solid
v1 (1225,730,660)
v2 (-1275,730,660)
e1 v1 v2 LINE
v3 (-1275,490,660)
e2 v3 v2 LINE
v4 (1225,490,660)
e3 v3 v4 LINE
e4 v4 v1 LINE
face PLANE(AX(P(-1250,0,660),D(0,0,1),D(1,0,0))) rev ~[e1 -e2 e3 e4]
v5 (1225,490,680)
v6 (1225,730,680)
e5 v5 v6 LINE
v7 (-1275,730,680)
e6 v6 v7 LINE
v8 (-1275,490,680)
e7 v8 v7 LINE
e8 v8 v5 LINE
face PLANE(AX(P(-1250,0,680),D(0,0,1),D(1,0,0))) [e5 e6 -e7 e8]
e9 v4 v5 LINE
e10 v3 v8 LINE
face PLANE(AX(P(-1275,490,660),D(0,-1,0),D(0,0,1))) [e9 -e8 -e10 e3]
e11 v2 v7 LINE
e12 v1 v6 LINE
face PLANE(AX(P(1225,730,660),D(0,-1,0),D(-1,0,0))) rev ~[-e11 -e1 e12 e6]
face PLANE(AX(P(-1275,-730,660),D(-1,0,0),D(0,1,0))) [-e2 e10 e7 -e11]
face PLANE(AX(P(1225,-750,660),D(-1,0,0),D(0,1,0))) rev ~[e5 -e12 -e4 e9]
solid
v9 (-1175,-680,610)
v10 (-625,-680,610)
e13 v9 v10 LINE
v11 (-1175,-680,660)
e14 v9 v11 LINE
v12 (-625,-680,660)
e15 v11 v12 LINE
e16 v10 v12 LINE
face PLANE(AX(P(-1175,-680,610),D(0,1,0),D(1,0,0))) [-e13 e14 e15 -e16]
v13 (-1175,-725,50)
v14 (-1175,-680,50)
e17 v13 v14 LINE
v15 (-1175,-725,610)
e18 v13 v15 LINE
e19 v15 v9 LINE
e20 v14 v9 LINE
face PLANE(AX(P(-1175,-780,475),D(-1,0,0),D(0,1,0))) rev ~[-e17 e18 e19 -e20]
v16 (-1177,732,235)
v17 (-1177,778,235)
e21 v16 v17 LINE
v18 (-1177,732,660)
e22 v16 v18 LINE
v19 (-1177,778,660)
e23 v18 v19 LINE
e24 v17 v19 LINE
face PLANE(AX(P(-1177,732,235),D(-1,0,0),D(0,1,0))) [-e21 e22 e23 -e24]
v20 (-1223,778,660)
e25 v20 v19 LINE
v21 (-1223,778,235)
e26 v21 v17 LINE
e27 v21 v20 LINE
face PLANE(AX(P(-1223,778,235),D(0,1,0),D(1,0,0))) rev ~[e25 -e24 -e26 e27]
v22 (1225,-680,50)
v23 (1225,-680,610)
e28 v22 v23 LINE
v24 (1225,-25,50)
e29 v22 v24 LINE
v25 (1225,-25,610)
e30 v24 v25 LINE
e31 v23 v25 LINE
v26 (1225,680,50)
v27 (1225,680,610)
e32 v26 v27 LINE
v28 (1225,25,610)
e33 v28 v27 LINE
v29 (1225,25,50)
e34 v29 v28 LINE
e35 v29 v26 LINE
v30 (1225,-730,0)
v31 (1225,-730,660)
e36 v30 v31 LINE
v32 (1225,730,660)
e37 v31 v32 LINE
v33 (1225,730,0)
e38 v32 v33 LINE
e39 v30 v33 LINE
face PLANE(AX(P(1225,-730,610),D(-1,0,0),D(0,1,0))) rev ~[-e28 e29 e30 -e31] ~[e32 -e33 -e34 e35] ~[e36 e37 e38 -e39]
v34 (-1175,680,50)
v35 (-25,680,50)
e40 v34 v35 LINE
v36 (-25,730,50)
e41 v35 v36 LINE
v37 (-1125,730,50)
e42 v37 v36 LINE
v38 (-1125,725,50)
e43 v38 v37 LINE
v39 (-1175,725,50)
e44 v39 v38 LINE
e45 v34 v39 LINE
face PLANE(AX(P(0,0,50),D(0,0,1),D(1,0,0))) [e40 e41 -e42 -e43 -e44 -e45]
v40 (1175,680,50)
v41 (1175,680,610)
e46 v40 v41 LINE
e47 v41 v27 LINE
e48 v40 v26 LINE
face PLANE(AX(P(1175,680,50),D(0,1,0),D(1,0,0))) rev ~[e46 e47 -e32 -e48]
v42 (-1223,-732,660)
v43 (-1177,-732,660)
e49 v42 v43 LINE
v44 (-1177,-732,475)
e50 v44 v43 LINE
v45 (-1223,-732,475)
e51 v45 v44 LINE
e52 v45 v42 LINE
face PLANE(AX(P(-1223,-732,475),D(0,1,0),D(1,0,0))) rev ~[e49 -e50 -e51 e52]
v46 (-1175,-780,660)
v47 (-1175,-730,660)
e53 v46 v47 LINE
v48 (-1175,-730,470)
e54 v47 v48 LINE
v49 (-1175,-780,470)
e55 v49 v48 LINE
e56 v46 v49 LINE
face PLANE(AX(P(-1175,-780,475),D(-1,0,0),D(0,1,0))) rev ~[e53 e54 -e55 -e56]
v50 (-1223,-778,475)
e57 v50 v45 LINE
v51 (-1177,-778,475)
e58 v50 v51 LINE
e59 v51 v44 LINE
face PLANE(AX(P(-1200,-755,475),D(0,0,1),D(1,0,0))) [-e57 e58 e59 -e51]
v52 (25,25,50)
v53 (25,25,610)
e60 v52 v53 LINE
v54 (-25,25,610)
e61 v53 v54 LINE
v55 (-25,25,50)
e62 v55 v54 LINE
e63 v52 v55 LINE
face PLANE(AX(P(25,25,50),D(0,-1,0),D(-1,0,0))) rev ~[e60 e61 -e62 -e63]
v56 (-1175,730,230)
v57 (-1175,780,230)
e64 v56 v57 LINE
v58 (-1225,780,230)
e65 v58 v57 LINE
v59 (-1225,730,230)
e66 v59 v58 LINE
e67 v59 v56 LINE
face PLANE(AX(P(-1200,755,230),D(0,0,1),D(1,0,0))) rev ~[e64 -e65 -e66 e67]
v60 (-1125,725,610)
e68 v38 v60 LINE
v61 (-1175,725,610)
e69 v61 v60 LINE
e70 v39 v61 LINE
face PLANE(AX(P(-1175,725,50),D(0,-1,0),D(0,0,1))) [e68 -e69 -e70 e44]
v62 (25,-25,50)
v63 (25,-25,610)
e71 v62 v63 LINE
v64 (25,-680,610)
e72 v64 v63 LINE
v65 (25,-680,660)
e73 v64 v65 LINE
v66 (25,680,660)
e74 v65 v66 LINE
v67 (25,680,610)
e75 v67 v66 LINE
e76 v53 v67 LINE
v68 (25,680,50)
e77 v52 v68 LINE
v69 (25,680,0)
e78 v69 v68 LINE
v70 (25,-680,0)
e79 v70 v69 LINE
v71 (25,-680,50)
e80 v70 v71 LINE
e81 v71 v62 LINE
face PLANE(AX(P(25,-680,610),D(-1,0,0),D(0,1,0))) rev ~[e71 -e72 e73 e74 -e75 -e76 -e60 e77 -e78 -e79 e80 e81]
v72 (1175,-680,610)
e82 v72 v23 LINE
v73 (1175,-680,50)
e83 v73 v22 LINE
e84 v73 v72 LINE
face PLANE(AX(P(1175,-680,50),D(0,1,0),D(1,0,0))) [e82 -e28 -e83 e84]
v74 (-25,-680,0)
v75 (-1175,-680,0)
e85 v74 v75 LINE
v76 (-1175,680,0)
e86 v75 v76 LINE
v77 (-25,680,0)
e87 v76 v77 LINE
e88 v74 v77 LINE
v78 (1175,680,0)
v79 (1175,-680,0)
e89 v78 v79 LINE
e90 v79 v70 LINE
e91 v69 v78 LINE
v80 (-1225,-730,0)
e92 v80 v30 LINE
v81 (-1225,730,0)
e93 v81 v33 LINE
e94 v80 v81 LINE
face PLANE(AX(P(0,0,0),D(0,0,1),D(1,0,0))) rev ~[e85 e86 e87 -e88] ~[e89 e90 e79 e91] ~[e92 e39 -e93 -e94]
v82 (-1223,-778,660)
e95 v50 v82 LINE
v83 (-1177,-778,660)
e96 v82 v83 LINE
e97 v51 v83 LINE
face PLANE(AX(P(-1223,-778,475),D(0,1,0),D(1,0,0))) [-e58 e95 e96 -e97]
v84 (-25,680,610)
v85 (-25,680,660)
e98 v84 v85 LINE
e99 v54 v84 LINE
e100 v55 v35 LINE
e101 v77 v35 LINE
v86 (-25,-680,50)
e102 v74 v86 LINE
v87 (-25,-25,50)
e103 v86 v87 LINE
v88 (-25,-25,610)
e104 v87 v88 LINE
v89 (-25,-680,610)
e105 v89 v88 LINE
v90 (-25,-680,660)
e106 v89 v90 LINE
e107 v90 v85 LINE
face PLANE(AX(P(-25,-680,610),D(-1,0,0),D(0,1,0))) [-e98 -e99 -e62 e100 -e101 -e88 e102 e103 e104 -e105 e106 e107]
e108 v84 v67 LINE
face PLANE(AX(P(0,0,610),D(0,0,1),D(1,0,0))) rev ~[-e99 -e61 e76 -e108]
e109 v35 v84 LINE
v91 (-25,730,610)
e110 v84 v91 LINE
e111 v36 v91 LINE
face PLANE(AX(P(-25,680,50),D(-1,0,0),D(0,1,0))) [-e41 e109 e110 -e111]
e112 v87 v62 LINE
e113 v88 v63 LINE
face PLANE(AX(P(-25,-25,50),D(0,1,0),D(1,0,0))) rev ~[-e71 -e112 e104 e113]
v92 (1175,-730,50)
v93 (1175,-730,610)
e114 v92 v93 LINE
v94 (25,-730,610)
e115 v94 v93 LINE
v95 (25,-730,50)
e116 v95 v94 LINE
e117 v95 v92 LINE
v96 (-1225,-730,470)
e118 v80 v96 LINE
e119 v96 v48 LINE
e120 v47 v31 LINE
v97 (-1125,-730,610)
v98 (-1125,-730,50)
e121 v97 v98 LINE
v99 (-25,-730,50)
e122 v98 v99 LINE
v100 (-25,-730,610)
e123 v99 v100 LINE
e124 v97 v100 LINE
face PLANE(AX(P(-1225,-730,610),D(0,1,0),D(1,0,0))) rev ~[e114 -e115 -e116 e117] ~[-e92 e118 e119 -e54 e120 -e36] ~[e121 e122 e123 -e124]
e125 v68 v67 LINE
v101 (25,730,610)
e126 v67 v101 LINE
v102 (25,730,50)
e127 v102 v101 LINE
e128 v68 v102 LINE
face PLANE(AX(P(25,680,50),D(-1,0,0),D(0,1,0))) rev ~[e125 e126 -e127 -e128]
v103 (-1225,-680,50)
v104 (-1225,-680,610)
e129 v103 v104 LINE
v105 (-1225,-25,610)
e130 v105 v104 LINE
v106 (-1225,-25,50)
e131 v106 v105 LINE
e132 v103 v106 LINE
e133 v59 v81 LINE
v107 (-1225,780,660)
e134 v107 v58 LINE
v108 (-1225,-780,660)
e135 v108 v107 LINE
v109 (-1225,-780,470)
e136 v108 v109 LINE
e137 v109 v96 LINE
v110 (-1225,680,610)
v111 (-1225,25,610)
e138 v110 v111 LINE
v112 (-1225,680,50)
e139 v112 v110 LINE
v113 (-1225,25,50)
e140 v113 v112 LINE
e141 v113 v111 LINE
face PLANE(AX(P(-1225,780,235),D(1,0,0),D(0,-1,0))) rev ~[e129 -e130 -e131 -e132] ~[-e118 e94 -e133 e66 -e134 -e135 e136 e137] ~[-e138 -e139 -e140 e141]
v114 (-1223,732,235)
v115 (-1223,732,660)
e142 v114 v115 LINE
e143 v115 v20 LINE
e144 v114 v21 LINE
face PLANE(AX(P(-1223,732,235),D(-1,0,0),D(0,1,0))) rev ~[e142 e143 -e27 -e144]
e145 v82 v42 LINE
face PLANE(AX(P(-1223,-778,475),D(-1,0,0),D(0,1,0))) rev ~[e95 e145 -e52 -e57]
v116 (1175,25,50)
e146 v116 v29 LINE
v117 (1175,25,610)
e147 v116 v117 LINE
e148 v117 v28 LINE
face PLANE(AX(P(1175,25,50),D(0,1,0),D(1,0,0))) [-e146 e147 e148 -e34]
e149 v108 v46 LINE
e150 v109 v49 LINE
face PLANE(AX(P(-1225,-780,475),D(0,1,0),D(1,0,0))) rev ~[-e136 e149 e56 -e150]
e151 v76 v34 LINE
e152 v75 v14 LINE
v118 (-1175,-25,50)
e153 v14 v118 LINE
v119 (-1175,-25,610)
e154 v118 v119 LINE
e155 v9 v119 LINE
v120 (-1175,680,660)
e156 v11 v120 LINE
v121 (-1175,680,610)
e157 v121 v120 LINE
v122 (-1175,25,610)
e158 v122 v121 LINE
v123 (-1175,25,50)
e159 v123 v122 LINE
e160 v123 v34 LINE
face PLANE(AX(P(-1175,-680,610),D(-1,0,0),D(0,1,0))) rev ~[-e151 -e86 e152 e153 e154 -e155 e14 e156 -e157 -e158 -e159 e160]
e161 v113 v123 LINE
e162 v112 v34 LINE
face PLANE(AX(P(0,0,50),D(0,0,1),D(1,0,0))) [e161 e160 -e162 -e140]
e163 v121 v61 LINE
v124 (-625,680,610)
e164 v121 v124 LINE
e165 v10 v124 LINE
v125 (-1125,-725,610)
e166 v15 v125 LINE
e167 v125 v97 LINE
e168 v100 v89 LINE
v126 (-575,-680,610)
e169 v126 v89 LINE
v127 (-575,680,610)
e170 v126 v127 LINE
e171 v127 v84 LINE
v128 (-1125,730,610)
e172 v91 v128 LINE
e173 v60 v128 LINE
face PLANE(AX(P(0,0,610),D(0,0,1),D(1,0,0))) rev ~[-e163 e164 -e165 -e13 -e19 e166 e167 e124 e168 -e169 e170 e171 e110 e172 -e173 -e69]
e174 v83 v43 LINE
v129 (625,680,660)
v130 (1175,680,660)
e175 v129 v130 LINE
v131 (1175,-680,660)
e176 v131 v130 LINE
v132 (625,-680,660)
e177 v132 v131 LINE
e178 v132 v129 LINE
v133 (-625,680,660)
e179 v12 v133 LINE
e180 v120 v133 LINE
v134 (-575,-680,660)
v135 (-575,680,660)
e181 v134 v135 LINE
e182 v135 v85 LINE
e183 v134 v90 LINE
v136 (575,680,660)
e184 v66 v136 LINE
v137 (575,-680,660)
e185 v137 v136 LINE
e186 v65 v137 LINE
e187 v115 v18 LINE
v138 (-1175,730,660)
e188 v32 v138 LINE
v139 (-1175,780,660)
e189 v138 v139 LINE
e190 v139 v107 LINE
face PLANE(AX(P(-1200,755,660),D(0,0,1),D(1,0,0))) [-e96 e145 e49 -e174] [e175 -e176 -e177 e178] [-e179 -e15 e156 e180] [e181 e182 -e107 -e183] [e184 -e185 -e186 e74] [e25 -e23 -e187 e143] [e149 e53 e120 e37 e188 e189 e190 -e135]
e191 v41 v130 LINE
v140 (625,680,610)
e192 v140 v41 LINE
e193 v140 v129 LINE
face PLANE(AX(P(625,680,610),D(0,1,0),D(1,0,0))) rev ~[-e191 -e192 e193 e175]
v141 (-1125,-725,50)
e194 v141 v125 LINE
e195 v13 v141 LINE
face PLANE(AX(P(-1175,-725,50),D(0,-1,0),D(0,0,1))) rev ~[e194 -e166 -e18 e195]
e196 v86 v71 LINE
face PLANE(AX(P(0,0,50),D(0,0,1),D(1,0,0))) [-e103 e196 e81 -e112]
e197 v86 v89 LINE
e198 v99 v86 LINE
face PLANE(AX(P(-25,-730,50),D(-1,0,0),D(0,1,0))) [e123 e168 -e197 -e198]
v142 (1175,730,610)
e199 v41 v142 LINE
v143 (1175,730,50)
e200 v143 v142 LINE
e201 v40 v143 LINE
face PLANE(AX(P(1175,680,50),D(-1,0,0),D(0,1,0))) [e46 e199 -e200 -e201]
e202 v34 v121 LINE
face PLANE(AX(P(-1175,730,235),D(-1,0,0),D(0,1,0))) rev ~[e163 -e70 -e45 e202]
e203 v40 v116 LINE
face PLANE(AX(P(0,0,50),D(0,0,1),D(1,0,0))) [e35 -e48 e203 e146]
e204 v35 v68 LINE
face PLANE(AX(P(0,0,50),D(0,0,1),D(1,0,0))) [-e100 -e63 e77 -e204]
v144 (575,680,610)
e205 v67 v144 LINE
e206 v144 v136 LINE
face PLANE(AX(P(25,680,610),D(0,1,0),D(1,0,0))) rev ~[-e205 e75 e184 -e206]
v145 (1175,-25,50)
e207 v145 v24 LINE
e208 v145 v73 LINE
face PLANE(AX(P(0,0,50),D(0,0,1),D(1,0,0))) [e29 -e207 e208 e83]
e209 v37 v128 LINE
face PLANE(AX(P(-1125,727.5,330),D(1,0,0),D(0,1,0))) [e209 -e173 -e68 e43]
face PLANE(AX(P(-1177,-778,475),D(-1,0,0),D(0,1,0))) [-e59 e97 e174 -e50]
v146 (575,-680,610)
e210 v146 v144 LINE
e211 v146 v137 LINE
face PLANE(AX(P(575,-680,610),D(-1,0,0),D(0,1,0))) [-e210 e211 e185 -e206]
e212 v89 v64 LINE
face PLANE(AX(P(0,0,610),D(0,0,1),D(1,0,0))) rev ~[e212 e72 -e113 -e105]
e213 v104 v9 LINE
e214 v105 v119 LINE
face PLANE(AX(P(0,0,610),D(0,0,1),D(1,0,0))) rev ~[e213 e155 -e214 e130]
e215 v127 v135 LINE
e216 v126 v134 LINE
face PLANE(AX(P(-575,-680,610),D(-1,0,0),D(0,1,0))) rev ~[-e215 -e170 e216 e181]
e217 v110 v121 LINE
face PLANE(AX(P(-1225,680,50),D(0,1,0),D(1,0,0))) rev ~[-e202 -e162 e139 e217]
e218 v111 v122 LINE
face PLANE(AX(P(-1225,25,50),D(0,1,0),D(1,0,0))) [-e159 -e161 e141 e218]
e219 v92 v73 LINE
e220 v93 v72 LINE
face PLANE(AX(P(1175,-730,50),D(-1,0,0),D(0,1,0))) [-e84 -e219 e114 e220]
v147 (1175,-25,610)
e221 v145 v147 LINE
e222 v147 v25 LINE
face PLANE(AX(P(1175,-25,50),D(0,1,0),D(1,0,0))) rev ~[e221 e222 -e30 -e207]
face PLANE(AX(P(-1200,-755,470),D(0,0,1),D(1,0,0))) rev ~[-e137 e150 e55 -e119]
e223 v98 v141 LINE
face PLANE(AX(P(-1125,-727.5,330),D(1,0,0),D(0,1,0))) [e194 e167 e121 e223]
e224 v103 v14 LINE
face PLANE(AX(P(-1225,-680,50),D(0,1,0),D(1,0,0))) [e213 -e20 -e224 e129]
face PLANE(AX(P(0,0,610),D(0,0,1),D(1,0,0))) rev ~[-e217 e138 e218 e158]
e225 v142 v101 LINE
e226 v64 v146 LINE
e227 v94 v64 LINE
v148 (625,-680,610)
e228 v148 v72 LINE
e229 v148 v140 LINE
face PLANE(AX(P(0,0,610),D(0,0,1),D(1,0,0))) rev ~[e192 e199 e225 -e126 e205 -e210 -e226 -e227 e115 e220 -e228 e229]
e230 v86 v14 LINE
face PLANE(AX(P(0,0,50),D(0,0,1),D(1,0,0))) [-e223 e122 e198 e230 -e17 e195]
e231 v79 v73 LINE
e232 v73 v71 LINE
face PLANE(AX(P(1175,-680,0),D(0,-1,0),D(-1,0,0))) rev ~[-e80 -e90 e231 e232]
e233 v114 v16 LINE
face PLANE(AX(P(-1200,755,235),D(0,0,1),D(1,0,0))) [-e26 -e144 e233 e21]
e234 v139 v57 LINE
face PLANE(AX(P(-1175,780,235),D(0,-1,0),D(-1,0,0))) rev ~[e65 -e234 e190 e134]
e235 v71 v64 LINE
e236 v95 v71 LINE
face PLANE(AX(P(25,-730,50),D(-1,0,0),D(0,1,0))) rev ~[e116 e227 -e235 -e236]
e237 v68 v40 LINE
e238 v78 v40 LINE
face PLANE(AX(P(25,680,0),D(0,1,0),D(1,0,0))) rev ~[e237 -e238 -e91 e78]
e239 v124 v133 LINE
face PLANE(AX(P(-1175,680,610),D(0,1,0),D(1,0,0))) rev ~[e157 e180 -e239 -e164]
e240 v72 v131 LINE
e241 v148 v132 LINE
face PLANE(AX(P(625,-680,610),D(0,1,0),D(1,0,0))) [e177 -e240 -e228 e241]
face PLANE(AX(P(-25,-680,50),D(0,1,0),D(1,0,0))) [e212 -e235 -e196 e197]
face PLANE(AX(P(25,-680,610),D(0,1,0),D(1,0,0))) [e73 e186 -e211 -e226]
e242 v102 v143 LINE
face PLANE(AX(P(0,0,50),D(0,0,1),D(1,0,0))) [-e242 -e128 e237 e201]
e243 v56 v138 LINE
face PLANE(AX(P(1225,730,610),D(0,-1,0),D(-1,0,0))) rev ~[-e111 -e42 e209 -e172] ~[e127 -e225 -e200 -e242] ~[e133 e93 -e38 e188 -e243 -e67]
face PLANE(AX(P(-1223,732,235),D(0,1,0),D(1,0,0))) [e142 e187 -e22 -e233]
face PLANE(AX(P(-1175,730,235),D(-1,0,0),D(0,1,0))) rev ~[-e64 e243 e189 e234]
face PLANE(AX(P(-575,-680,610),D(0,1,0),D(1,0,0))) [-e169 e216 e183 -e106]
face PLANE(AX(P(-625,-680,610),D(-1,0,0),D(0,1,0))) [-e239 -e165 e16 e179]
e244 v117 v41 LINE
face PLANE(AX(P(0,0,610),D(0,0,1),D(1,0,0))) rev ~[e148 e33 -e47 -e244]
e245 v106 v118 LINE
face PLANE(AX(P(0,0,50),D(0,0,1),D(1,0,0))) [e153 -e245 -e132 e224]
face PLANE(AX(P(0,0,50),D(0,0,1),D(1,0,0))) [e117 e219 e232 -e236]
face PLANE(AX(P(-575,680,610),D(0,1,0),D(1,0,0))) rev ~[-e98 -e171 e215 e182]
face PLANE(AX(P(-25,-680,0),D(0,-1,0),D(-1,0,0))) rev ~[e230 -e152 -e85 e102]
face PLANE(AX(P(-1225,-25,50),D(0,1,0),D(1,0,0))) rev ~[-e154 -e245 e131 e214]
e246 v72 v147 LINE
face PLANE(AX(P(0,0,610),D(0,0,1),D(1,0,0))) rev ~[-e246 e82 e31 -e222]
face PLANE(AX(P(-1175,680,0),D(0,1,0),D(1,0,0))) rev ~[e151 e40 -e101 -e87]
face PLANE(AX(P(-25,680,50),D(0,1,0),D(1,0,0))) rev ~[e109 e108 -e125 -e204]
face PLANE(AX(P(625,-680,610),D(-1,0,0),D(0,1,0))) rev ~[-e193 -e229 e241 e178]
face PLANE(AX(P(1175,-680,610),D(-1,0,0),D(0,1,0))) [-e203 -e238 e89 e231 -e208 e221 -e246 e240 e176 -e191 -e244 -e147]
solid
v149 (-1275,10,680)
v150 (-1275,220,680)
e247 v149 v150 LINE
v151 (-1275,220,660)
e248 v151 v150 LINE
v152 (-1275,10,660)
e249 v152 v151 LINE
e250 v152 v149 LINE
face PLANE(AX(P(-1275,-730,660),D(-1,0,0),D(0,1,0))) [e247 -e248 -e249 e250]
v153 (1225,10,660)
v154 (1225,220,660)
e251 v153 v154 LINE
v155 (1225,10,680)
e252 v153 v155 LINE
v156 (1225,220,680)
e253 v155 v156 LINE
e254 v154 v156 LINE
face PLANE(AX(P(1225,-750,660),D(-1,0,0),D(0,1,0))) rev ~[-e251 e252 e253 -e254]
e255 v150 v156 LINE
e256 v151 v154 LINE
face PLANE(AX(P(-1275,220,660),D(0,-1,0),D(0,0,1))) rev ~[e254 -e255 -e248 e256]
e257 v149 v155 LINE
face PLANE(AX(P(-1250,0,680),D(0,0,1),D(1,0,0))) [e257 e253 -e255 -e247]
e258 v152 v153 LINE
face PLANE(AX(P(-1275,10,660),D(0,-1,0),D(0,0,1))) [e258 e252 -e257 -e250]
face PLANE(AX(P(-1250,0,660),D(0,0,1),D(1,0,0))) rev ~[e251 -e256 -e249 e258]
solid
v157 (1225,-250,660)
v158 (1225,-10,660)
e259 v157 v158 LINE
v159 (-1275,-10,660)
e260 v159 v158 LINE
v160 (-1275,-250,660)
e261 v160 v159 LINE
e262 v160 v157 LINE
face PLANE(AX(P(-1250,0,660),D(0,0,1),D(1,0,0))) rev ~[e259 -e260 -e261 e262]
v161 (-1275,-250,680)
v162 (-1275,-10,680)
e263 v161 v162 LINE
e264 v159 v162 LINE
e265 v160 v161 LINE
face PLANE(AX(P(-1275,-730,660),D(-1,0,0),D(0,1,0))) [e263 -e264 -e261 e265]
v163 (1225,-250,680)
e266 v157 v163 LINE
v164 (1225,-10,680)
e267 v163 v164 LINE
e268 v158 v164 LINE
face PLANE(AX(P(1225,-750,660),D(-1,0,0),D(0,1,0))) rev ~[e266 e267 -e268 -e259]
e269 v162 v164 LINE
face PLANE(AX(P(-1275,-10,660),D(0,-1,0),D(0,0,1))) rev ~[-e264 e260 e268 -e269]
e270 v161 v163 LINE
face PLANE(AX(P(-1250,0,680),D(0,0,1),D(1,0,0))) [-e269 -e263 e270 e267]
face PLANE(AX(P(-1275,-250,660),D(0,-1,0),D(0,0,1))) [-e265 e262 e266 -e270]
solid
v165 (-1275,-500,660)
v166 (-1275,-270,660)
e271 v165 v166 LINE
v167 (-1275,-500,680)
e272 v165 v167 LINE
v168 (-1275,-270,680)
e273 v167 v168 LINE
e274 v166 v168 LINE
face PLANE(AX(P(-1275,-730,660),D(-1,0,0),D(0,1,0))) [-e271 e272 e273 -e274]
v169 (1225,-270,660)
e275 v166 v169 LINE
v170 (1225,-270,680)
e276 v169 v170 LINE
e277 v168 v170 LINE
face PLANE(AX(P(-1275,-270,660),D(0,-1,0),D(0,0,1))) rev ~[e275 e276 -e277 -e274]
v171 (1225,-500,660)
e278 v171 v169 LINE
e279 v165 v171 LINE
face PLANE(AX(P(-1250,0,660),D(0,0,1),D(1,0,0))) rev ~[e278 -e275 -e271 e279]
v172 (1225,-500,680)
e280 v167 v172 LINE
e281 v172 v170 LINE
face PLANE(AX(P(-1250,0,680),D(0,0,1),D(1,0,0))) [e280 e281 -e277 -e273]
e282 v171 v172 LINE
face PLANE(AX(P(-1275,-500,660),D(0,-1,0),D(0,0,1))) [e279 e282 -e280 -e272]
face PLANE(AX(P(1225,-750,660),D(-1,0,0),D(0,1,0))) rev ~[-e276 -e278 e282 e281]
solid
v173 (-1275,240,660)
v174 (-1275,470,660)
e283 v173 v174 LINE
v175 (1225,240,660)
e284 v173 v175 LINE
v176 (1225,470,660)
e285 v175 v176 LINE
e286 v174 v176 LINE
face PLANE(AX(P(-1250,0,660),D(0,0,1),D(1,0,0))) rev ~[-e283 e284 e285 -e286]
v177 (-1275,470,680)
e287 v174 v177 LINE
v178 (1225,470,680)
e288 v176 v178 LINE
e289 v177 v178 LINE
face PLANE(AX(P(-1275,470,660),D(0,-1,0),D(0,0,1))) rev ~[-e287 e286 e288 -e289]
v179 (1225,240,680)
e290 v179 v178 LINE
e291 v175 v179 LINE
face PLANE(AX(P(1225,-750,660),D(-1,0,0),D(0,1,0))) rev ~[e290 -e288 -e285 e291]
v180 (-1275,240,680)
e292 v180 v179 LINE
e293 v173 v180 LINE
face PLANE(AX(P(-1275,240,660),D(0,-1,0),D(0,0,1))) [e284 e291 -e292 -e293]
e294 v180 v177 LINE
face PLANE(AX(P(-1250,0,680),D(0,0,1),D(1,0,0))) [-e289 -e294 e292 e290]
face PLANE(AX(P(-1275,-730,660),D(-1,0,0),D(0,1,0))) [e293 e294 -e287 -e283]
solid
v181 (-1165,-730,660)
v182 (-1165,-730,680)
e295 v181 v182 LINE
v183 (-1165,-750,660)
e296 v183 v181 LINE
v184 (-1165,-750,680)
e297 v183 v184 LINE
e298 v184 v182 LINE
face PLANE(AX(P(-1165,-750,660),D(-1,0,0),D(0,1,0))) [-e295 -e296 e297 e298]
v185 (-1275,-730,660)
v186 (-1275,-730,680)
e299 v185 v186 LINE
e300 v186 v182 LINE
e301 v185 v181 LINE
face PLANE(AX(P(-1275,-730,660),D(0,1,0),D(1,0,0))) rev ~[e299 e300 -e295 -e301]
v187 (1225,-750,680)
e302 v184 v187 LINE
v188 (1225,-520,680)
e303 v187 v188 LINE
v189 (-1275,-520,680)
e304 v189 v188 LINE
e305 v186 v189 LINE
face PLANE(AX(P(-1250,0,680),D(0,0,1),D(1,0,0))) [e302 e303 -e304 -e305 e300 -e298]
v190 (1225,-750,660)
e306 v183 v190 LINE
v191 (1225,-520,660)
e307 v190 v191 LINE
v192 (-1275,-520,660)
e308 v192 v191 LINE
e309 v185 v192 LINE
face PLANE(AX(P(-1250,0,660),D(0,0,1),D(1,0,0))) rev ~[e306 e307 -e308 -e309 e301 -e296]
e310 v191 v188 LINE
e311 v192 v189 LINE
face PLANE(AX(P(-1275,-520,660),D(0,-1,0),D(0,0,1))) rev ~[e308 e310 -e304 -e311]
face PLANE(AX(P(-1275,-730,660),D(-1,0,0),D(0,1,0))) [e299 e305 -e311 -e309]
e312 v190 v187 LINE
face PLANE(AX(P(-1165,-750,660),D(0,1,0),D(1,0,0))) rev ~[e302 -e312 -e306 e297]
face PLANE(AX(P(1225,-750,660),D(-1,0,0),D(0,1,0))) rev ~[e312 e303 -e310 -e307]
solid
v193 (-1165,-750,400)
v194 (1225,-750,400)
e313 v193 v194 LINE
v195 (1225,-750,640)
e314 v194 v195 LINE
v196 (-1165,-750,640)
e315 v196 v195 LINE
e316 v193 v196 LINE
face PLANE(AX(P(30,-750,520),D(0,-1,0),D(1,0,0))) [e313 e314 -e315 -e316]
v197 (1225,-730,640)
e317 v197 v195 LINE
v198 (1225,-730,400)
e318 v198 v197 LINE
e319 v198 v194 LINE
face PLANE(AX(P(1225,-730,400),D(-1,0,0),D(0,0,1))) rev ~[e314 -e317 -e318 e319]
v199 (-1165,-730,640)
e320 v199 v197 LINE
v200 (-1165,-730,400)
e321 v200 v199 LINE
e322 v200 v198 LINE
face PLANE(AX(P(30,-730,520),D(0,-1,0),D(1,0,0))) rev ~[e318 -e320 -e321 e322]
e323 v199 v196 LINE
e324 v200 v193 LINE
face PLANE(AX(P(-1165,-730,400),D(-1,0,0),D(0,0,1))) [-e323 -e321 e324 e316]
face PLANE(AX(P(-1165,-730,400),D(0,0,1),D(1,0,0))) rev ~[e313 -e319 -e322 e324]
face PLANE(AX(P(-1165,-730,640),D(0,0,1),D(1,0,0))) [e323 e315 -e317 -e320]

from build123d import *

# Parameters (mm, degrees)
F0_W      = 2450
F0_H      = 1460
F0_W_2    = 50
F0_H_2    = 1360
F1_DEPTH  = 50
F2_W      = 50
F2_H      = 50
F2_H_2    = 25
F3_DEPTH  = 560
F4_W      = 550
F4_H      = 1360
F5_DEPTH  = 50
F7_W      = 50
F7_H      = 50
F8_DEPTH  = 5
F9_W      = 46
F9_H      = 46
F10_DEPTH = 185
F12_W     = 50
F12_H     = 50
F13_DEPTH = 5
F14_W     = 46
F14_H     = 46
F15_DEPTH = 425
F16_W     = 5
F16_H     = 560
F17_DEPTH = 50
F18_W     = 2390
F18_H     = 240
F19_DEPTH = 20
F20_W     = 50
F20_H     = 1460
F20_W_2   = 550
F20_H_2   = 1360
F20_W_3   = 2390
F20_H_3   = 20
F21_DEPTH = 20
F23_W     = 20
F23_H     = 20
F24_DEPTH = 2500


with BuildPart() as f1:
    # F0 (on Top) → F1 (new body)
    with BuildSketch(Plane.XY):
        Rectangle(F0_W, F0_H)
        Polygon((-1175, -680), (-1175, 680), (-25, 680), (25, 680), (1175, 680), (1175, -680), (25, -680), (-25, -680), align=None, mode=Mode.SUBTRACT)
        Rectangle(F0_W_2, F0_H_2)
    extrude(amount=F1_DEPTH)

    # F2 (on face) → F3 (join)
    with BuildSketch(Plane.XY.offset(50)):
        with Locations((-1200, 705)):
            Rectangle(F2_W, F2_H)
        with Locations((0, 705)):
            Rectangle(F2_W, F2_H)
        with Locations((1200, 705)):
            Rectangle(F2_W, F2_H)
        with Locations((1200, -705)):
            Rectangle(F2_W, F2_H)
        with Locations((0, -705)):
            Rectangle(F2_W, F2_H)
        with Locations((-1200, -705)):
            Rectangle(F2_W, F2_H)
        with Locations((-1200, -12.5)):
            Rectangle(F2_W, F2_H_2)
        with Locations((-1200, 12.5)):
            Rectangle(F2_W, F2_H_2)
        Polygon((-25, -25), (25, -25), (25, 25), (-25, 25), (-25, 0), align=None)
        with Locations((1200, 0)):
            Rectangle(F2_W, F2_H)
    extrude(amount=F3_DEPTH)

    # F4 (on face) → F5 (join)
    with BuildSketch(Plane.XY.offset(610)):
        Polygon((-1225, 730), (-1225, 25), (-1225, -730), (1225, -730), (1225, 730), (-1175, 730), align=None)
        with Locations((-900, 0)):
            Rectangle(F4_W, F4_H, mode=Mode.SUBTRACT)
        with Locations((-300, 0)):
            Rectangle(F4_W, F4_H, mode=Mode.SUBTRACT)
        with Locations((300, 0)):
            Rectangle(F4_W, F4_H, mode=Mode.SUBTRACT)
        with Locations((900, 0)):
            Rectangle(F4_W, F4_H, mode=Mode.SUBTRACT)
    extrude(amount=F5_DEPTH)

    # F7 (on offset) → F8 (join)
    with BuildSketch(Plane.XY.offset(470)):
        with Locations((-1200, -755)):
            Rectangle(F7_W, F7_H)
    extrude(amount=F8_DEPTH)

    # F9 (on face) → F10 (join, through all)
    with BuildSketch(Plane.XY.offset(475)):
        Polygon((-1175, -730), (-1225, -730), (-1225, -780), (-1223, -780), (-1175, -780), align=None)
        with Locations((-1200, -755)):
            Rectangle(F9_W, F9_H, mode=Mode.SUBTRACT)
    extrude(amount=F10_DEPTH)

    # F12 (on offset) → F13 (join)
    with BuildSketch(Plane.XY.offset(230)):
        with Locations((-1200, 755)):
            Rectangle(F12_W, F12_H)
    extrude(amount=F13_DEPTH)

    # F14 (on face) → F15 (join, through all)
    with BuildSketch(Plane.XY.offset(235)):
        Polygon((-1223, 780), (-1225, 780), (-1225, 730), (-1175, 730), (-1175, 780), align=None)
        with Locations((-1200, 755)):
            Rectangle(F14_W, F14_H, mode=Mode.SUBTRACT)
    extrude(amount=F15_DEPTH)

    # F16 (on face) → F17 (join)
    with BuildSketch(Plane.YZ.offset(-1175)):
        with Locations((727.5, 330)):
            Rectangle(F16_W, F16_H)
        Polygon((-725, 610.0000000001), (-730, 610.0000000001), (-730, 470), (-730, 50), (-725, 50), align=None)
    extrude(amount=F17_DEPTH)


with BuildPart() as f19:
    # F18 (on face) → F19 (new body)
    with BuildSketch(Plane.XZ.offset(730)):
        with Locations((30, 520)):
            Rectangle(F18_W, F18_H)
    extrude(amount=F19_DEPTH)


with BuildPart() as f21:
    # F20 (on face) → F21 (new body)
    with BuildSketch(Plane.XY.offset(660)):
        with Locations((-1250, 0)):
            Rectangle(F20_W, F20_H)
        Polygon((1225, -730), (1225, 730), (-1175, 730), (-1225, 730), (-1225, -730), (-1175, -730), (-1165, -730), align=None)
        with Locations((-900, 0)):
            Rectangle(F20_W_2, F20_H_2, mode=Mode.SUBTRACT)
        with Locations((-300, 0)):
            Rectangle(F20_W_2, F20_H_2, mode=Mode.SUBTRACT)
        with Locations((300, 0)):
            Rectangle(F20_W_2, F20_H_2, mode=Mode.SUBTRACT)
        with Locations((900, 0)):
            Rectangle(F20_W_2, F20_H_2, mode=Mode.SUBTRACT)
        with Locations((-900, 0)):
            Rectangle(F20_W_2, F20_H_2)
        with Locations((-300, 0)):
            Rectangle(F20_W_2, F20_H_2)
        with Locations((300, 0)):
            Rectangle(F20_W_2, F20_H_2)
        with Locations((900, 0)):
            Rectangle(F20_W_2, F20_H_2)
        with Locations((30, -740)):
            Rectangle(F20_W_3, F20_H_3)
    extrude(amount=F21_DEPTH)

    # F23 (on face) → F24 (cut, through all)
    with BuildSketch(Plane(origin=(-1275, 0, 0), x_dir=(0, -1, 0), z_dir=(-1, 0, 0))):
        with Locations((510, 670)):
            Rectangle(F23_W, F23_H)
        with Locations((-480, 670)):
            Rectangle(F23_W, F23_H)
        with Locations((-230, 670)):
            Rectangle(F23_W, F23_H)
        with Locations((0, 670)):
            Rectangle(F23_W, F23_H)
        with Locations((260, 670)):
            Rectangle(F23_W, F23_H)
    extrude(amount=-F24_DEPTH, mode=Mode.SUBTRACT)


solid = Compound([f1.part, f19.part, f21.part])
